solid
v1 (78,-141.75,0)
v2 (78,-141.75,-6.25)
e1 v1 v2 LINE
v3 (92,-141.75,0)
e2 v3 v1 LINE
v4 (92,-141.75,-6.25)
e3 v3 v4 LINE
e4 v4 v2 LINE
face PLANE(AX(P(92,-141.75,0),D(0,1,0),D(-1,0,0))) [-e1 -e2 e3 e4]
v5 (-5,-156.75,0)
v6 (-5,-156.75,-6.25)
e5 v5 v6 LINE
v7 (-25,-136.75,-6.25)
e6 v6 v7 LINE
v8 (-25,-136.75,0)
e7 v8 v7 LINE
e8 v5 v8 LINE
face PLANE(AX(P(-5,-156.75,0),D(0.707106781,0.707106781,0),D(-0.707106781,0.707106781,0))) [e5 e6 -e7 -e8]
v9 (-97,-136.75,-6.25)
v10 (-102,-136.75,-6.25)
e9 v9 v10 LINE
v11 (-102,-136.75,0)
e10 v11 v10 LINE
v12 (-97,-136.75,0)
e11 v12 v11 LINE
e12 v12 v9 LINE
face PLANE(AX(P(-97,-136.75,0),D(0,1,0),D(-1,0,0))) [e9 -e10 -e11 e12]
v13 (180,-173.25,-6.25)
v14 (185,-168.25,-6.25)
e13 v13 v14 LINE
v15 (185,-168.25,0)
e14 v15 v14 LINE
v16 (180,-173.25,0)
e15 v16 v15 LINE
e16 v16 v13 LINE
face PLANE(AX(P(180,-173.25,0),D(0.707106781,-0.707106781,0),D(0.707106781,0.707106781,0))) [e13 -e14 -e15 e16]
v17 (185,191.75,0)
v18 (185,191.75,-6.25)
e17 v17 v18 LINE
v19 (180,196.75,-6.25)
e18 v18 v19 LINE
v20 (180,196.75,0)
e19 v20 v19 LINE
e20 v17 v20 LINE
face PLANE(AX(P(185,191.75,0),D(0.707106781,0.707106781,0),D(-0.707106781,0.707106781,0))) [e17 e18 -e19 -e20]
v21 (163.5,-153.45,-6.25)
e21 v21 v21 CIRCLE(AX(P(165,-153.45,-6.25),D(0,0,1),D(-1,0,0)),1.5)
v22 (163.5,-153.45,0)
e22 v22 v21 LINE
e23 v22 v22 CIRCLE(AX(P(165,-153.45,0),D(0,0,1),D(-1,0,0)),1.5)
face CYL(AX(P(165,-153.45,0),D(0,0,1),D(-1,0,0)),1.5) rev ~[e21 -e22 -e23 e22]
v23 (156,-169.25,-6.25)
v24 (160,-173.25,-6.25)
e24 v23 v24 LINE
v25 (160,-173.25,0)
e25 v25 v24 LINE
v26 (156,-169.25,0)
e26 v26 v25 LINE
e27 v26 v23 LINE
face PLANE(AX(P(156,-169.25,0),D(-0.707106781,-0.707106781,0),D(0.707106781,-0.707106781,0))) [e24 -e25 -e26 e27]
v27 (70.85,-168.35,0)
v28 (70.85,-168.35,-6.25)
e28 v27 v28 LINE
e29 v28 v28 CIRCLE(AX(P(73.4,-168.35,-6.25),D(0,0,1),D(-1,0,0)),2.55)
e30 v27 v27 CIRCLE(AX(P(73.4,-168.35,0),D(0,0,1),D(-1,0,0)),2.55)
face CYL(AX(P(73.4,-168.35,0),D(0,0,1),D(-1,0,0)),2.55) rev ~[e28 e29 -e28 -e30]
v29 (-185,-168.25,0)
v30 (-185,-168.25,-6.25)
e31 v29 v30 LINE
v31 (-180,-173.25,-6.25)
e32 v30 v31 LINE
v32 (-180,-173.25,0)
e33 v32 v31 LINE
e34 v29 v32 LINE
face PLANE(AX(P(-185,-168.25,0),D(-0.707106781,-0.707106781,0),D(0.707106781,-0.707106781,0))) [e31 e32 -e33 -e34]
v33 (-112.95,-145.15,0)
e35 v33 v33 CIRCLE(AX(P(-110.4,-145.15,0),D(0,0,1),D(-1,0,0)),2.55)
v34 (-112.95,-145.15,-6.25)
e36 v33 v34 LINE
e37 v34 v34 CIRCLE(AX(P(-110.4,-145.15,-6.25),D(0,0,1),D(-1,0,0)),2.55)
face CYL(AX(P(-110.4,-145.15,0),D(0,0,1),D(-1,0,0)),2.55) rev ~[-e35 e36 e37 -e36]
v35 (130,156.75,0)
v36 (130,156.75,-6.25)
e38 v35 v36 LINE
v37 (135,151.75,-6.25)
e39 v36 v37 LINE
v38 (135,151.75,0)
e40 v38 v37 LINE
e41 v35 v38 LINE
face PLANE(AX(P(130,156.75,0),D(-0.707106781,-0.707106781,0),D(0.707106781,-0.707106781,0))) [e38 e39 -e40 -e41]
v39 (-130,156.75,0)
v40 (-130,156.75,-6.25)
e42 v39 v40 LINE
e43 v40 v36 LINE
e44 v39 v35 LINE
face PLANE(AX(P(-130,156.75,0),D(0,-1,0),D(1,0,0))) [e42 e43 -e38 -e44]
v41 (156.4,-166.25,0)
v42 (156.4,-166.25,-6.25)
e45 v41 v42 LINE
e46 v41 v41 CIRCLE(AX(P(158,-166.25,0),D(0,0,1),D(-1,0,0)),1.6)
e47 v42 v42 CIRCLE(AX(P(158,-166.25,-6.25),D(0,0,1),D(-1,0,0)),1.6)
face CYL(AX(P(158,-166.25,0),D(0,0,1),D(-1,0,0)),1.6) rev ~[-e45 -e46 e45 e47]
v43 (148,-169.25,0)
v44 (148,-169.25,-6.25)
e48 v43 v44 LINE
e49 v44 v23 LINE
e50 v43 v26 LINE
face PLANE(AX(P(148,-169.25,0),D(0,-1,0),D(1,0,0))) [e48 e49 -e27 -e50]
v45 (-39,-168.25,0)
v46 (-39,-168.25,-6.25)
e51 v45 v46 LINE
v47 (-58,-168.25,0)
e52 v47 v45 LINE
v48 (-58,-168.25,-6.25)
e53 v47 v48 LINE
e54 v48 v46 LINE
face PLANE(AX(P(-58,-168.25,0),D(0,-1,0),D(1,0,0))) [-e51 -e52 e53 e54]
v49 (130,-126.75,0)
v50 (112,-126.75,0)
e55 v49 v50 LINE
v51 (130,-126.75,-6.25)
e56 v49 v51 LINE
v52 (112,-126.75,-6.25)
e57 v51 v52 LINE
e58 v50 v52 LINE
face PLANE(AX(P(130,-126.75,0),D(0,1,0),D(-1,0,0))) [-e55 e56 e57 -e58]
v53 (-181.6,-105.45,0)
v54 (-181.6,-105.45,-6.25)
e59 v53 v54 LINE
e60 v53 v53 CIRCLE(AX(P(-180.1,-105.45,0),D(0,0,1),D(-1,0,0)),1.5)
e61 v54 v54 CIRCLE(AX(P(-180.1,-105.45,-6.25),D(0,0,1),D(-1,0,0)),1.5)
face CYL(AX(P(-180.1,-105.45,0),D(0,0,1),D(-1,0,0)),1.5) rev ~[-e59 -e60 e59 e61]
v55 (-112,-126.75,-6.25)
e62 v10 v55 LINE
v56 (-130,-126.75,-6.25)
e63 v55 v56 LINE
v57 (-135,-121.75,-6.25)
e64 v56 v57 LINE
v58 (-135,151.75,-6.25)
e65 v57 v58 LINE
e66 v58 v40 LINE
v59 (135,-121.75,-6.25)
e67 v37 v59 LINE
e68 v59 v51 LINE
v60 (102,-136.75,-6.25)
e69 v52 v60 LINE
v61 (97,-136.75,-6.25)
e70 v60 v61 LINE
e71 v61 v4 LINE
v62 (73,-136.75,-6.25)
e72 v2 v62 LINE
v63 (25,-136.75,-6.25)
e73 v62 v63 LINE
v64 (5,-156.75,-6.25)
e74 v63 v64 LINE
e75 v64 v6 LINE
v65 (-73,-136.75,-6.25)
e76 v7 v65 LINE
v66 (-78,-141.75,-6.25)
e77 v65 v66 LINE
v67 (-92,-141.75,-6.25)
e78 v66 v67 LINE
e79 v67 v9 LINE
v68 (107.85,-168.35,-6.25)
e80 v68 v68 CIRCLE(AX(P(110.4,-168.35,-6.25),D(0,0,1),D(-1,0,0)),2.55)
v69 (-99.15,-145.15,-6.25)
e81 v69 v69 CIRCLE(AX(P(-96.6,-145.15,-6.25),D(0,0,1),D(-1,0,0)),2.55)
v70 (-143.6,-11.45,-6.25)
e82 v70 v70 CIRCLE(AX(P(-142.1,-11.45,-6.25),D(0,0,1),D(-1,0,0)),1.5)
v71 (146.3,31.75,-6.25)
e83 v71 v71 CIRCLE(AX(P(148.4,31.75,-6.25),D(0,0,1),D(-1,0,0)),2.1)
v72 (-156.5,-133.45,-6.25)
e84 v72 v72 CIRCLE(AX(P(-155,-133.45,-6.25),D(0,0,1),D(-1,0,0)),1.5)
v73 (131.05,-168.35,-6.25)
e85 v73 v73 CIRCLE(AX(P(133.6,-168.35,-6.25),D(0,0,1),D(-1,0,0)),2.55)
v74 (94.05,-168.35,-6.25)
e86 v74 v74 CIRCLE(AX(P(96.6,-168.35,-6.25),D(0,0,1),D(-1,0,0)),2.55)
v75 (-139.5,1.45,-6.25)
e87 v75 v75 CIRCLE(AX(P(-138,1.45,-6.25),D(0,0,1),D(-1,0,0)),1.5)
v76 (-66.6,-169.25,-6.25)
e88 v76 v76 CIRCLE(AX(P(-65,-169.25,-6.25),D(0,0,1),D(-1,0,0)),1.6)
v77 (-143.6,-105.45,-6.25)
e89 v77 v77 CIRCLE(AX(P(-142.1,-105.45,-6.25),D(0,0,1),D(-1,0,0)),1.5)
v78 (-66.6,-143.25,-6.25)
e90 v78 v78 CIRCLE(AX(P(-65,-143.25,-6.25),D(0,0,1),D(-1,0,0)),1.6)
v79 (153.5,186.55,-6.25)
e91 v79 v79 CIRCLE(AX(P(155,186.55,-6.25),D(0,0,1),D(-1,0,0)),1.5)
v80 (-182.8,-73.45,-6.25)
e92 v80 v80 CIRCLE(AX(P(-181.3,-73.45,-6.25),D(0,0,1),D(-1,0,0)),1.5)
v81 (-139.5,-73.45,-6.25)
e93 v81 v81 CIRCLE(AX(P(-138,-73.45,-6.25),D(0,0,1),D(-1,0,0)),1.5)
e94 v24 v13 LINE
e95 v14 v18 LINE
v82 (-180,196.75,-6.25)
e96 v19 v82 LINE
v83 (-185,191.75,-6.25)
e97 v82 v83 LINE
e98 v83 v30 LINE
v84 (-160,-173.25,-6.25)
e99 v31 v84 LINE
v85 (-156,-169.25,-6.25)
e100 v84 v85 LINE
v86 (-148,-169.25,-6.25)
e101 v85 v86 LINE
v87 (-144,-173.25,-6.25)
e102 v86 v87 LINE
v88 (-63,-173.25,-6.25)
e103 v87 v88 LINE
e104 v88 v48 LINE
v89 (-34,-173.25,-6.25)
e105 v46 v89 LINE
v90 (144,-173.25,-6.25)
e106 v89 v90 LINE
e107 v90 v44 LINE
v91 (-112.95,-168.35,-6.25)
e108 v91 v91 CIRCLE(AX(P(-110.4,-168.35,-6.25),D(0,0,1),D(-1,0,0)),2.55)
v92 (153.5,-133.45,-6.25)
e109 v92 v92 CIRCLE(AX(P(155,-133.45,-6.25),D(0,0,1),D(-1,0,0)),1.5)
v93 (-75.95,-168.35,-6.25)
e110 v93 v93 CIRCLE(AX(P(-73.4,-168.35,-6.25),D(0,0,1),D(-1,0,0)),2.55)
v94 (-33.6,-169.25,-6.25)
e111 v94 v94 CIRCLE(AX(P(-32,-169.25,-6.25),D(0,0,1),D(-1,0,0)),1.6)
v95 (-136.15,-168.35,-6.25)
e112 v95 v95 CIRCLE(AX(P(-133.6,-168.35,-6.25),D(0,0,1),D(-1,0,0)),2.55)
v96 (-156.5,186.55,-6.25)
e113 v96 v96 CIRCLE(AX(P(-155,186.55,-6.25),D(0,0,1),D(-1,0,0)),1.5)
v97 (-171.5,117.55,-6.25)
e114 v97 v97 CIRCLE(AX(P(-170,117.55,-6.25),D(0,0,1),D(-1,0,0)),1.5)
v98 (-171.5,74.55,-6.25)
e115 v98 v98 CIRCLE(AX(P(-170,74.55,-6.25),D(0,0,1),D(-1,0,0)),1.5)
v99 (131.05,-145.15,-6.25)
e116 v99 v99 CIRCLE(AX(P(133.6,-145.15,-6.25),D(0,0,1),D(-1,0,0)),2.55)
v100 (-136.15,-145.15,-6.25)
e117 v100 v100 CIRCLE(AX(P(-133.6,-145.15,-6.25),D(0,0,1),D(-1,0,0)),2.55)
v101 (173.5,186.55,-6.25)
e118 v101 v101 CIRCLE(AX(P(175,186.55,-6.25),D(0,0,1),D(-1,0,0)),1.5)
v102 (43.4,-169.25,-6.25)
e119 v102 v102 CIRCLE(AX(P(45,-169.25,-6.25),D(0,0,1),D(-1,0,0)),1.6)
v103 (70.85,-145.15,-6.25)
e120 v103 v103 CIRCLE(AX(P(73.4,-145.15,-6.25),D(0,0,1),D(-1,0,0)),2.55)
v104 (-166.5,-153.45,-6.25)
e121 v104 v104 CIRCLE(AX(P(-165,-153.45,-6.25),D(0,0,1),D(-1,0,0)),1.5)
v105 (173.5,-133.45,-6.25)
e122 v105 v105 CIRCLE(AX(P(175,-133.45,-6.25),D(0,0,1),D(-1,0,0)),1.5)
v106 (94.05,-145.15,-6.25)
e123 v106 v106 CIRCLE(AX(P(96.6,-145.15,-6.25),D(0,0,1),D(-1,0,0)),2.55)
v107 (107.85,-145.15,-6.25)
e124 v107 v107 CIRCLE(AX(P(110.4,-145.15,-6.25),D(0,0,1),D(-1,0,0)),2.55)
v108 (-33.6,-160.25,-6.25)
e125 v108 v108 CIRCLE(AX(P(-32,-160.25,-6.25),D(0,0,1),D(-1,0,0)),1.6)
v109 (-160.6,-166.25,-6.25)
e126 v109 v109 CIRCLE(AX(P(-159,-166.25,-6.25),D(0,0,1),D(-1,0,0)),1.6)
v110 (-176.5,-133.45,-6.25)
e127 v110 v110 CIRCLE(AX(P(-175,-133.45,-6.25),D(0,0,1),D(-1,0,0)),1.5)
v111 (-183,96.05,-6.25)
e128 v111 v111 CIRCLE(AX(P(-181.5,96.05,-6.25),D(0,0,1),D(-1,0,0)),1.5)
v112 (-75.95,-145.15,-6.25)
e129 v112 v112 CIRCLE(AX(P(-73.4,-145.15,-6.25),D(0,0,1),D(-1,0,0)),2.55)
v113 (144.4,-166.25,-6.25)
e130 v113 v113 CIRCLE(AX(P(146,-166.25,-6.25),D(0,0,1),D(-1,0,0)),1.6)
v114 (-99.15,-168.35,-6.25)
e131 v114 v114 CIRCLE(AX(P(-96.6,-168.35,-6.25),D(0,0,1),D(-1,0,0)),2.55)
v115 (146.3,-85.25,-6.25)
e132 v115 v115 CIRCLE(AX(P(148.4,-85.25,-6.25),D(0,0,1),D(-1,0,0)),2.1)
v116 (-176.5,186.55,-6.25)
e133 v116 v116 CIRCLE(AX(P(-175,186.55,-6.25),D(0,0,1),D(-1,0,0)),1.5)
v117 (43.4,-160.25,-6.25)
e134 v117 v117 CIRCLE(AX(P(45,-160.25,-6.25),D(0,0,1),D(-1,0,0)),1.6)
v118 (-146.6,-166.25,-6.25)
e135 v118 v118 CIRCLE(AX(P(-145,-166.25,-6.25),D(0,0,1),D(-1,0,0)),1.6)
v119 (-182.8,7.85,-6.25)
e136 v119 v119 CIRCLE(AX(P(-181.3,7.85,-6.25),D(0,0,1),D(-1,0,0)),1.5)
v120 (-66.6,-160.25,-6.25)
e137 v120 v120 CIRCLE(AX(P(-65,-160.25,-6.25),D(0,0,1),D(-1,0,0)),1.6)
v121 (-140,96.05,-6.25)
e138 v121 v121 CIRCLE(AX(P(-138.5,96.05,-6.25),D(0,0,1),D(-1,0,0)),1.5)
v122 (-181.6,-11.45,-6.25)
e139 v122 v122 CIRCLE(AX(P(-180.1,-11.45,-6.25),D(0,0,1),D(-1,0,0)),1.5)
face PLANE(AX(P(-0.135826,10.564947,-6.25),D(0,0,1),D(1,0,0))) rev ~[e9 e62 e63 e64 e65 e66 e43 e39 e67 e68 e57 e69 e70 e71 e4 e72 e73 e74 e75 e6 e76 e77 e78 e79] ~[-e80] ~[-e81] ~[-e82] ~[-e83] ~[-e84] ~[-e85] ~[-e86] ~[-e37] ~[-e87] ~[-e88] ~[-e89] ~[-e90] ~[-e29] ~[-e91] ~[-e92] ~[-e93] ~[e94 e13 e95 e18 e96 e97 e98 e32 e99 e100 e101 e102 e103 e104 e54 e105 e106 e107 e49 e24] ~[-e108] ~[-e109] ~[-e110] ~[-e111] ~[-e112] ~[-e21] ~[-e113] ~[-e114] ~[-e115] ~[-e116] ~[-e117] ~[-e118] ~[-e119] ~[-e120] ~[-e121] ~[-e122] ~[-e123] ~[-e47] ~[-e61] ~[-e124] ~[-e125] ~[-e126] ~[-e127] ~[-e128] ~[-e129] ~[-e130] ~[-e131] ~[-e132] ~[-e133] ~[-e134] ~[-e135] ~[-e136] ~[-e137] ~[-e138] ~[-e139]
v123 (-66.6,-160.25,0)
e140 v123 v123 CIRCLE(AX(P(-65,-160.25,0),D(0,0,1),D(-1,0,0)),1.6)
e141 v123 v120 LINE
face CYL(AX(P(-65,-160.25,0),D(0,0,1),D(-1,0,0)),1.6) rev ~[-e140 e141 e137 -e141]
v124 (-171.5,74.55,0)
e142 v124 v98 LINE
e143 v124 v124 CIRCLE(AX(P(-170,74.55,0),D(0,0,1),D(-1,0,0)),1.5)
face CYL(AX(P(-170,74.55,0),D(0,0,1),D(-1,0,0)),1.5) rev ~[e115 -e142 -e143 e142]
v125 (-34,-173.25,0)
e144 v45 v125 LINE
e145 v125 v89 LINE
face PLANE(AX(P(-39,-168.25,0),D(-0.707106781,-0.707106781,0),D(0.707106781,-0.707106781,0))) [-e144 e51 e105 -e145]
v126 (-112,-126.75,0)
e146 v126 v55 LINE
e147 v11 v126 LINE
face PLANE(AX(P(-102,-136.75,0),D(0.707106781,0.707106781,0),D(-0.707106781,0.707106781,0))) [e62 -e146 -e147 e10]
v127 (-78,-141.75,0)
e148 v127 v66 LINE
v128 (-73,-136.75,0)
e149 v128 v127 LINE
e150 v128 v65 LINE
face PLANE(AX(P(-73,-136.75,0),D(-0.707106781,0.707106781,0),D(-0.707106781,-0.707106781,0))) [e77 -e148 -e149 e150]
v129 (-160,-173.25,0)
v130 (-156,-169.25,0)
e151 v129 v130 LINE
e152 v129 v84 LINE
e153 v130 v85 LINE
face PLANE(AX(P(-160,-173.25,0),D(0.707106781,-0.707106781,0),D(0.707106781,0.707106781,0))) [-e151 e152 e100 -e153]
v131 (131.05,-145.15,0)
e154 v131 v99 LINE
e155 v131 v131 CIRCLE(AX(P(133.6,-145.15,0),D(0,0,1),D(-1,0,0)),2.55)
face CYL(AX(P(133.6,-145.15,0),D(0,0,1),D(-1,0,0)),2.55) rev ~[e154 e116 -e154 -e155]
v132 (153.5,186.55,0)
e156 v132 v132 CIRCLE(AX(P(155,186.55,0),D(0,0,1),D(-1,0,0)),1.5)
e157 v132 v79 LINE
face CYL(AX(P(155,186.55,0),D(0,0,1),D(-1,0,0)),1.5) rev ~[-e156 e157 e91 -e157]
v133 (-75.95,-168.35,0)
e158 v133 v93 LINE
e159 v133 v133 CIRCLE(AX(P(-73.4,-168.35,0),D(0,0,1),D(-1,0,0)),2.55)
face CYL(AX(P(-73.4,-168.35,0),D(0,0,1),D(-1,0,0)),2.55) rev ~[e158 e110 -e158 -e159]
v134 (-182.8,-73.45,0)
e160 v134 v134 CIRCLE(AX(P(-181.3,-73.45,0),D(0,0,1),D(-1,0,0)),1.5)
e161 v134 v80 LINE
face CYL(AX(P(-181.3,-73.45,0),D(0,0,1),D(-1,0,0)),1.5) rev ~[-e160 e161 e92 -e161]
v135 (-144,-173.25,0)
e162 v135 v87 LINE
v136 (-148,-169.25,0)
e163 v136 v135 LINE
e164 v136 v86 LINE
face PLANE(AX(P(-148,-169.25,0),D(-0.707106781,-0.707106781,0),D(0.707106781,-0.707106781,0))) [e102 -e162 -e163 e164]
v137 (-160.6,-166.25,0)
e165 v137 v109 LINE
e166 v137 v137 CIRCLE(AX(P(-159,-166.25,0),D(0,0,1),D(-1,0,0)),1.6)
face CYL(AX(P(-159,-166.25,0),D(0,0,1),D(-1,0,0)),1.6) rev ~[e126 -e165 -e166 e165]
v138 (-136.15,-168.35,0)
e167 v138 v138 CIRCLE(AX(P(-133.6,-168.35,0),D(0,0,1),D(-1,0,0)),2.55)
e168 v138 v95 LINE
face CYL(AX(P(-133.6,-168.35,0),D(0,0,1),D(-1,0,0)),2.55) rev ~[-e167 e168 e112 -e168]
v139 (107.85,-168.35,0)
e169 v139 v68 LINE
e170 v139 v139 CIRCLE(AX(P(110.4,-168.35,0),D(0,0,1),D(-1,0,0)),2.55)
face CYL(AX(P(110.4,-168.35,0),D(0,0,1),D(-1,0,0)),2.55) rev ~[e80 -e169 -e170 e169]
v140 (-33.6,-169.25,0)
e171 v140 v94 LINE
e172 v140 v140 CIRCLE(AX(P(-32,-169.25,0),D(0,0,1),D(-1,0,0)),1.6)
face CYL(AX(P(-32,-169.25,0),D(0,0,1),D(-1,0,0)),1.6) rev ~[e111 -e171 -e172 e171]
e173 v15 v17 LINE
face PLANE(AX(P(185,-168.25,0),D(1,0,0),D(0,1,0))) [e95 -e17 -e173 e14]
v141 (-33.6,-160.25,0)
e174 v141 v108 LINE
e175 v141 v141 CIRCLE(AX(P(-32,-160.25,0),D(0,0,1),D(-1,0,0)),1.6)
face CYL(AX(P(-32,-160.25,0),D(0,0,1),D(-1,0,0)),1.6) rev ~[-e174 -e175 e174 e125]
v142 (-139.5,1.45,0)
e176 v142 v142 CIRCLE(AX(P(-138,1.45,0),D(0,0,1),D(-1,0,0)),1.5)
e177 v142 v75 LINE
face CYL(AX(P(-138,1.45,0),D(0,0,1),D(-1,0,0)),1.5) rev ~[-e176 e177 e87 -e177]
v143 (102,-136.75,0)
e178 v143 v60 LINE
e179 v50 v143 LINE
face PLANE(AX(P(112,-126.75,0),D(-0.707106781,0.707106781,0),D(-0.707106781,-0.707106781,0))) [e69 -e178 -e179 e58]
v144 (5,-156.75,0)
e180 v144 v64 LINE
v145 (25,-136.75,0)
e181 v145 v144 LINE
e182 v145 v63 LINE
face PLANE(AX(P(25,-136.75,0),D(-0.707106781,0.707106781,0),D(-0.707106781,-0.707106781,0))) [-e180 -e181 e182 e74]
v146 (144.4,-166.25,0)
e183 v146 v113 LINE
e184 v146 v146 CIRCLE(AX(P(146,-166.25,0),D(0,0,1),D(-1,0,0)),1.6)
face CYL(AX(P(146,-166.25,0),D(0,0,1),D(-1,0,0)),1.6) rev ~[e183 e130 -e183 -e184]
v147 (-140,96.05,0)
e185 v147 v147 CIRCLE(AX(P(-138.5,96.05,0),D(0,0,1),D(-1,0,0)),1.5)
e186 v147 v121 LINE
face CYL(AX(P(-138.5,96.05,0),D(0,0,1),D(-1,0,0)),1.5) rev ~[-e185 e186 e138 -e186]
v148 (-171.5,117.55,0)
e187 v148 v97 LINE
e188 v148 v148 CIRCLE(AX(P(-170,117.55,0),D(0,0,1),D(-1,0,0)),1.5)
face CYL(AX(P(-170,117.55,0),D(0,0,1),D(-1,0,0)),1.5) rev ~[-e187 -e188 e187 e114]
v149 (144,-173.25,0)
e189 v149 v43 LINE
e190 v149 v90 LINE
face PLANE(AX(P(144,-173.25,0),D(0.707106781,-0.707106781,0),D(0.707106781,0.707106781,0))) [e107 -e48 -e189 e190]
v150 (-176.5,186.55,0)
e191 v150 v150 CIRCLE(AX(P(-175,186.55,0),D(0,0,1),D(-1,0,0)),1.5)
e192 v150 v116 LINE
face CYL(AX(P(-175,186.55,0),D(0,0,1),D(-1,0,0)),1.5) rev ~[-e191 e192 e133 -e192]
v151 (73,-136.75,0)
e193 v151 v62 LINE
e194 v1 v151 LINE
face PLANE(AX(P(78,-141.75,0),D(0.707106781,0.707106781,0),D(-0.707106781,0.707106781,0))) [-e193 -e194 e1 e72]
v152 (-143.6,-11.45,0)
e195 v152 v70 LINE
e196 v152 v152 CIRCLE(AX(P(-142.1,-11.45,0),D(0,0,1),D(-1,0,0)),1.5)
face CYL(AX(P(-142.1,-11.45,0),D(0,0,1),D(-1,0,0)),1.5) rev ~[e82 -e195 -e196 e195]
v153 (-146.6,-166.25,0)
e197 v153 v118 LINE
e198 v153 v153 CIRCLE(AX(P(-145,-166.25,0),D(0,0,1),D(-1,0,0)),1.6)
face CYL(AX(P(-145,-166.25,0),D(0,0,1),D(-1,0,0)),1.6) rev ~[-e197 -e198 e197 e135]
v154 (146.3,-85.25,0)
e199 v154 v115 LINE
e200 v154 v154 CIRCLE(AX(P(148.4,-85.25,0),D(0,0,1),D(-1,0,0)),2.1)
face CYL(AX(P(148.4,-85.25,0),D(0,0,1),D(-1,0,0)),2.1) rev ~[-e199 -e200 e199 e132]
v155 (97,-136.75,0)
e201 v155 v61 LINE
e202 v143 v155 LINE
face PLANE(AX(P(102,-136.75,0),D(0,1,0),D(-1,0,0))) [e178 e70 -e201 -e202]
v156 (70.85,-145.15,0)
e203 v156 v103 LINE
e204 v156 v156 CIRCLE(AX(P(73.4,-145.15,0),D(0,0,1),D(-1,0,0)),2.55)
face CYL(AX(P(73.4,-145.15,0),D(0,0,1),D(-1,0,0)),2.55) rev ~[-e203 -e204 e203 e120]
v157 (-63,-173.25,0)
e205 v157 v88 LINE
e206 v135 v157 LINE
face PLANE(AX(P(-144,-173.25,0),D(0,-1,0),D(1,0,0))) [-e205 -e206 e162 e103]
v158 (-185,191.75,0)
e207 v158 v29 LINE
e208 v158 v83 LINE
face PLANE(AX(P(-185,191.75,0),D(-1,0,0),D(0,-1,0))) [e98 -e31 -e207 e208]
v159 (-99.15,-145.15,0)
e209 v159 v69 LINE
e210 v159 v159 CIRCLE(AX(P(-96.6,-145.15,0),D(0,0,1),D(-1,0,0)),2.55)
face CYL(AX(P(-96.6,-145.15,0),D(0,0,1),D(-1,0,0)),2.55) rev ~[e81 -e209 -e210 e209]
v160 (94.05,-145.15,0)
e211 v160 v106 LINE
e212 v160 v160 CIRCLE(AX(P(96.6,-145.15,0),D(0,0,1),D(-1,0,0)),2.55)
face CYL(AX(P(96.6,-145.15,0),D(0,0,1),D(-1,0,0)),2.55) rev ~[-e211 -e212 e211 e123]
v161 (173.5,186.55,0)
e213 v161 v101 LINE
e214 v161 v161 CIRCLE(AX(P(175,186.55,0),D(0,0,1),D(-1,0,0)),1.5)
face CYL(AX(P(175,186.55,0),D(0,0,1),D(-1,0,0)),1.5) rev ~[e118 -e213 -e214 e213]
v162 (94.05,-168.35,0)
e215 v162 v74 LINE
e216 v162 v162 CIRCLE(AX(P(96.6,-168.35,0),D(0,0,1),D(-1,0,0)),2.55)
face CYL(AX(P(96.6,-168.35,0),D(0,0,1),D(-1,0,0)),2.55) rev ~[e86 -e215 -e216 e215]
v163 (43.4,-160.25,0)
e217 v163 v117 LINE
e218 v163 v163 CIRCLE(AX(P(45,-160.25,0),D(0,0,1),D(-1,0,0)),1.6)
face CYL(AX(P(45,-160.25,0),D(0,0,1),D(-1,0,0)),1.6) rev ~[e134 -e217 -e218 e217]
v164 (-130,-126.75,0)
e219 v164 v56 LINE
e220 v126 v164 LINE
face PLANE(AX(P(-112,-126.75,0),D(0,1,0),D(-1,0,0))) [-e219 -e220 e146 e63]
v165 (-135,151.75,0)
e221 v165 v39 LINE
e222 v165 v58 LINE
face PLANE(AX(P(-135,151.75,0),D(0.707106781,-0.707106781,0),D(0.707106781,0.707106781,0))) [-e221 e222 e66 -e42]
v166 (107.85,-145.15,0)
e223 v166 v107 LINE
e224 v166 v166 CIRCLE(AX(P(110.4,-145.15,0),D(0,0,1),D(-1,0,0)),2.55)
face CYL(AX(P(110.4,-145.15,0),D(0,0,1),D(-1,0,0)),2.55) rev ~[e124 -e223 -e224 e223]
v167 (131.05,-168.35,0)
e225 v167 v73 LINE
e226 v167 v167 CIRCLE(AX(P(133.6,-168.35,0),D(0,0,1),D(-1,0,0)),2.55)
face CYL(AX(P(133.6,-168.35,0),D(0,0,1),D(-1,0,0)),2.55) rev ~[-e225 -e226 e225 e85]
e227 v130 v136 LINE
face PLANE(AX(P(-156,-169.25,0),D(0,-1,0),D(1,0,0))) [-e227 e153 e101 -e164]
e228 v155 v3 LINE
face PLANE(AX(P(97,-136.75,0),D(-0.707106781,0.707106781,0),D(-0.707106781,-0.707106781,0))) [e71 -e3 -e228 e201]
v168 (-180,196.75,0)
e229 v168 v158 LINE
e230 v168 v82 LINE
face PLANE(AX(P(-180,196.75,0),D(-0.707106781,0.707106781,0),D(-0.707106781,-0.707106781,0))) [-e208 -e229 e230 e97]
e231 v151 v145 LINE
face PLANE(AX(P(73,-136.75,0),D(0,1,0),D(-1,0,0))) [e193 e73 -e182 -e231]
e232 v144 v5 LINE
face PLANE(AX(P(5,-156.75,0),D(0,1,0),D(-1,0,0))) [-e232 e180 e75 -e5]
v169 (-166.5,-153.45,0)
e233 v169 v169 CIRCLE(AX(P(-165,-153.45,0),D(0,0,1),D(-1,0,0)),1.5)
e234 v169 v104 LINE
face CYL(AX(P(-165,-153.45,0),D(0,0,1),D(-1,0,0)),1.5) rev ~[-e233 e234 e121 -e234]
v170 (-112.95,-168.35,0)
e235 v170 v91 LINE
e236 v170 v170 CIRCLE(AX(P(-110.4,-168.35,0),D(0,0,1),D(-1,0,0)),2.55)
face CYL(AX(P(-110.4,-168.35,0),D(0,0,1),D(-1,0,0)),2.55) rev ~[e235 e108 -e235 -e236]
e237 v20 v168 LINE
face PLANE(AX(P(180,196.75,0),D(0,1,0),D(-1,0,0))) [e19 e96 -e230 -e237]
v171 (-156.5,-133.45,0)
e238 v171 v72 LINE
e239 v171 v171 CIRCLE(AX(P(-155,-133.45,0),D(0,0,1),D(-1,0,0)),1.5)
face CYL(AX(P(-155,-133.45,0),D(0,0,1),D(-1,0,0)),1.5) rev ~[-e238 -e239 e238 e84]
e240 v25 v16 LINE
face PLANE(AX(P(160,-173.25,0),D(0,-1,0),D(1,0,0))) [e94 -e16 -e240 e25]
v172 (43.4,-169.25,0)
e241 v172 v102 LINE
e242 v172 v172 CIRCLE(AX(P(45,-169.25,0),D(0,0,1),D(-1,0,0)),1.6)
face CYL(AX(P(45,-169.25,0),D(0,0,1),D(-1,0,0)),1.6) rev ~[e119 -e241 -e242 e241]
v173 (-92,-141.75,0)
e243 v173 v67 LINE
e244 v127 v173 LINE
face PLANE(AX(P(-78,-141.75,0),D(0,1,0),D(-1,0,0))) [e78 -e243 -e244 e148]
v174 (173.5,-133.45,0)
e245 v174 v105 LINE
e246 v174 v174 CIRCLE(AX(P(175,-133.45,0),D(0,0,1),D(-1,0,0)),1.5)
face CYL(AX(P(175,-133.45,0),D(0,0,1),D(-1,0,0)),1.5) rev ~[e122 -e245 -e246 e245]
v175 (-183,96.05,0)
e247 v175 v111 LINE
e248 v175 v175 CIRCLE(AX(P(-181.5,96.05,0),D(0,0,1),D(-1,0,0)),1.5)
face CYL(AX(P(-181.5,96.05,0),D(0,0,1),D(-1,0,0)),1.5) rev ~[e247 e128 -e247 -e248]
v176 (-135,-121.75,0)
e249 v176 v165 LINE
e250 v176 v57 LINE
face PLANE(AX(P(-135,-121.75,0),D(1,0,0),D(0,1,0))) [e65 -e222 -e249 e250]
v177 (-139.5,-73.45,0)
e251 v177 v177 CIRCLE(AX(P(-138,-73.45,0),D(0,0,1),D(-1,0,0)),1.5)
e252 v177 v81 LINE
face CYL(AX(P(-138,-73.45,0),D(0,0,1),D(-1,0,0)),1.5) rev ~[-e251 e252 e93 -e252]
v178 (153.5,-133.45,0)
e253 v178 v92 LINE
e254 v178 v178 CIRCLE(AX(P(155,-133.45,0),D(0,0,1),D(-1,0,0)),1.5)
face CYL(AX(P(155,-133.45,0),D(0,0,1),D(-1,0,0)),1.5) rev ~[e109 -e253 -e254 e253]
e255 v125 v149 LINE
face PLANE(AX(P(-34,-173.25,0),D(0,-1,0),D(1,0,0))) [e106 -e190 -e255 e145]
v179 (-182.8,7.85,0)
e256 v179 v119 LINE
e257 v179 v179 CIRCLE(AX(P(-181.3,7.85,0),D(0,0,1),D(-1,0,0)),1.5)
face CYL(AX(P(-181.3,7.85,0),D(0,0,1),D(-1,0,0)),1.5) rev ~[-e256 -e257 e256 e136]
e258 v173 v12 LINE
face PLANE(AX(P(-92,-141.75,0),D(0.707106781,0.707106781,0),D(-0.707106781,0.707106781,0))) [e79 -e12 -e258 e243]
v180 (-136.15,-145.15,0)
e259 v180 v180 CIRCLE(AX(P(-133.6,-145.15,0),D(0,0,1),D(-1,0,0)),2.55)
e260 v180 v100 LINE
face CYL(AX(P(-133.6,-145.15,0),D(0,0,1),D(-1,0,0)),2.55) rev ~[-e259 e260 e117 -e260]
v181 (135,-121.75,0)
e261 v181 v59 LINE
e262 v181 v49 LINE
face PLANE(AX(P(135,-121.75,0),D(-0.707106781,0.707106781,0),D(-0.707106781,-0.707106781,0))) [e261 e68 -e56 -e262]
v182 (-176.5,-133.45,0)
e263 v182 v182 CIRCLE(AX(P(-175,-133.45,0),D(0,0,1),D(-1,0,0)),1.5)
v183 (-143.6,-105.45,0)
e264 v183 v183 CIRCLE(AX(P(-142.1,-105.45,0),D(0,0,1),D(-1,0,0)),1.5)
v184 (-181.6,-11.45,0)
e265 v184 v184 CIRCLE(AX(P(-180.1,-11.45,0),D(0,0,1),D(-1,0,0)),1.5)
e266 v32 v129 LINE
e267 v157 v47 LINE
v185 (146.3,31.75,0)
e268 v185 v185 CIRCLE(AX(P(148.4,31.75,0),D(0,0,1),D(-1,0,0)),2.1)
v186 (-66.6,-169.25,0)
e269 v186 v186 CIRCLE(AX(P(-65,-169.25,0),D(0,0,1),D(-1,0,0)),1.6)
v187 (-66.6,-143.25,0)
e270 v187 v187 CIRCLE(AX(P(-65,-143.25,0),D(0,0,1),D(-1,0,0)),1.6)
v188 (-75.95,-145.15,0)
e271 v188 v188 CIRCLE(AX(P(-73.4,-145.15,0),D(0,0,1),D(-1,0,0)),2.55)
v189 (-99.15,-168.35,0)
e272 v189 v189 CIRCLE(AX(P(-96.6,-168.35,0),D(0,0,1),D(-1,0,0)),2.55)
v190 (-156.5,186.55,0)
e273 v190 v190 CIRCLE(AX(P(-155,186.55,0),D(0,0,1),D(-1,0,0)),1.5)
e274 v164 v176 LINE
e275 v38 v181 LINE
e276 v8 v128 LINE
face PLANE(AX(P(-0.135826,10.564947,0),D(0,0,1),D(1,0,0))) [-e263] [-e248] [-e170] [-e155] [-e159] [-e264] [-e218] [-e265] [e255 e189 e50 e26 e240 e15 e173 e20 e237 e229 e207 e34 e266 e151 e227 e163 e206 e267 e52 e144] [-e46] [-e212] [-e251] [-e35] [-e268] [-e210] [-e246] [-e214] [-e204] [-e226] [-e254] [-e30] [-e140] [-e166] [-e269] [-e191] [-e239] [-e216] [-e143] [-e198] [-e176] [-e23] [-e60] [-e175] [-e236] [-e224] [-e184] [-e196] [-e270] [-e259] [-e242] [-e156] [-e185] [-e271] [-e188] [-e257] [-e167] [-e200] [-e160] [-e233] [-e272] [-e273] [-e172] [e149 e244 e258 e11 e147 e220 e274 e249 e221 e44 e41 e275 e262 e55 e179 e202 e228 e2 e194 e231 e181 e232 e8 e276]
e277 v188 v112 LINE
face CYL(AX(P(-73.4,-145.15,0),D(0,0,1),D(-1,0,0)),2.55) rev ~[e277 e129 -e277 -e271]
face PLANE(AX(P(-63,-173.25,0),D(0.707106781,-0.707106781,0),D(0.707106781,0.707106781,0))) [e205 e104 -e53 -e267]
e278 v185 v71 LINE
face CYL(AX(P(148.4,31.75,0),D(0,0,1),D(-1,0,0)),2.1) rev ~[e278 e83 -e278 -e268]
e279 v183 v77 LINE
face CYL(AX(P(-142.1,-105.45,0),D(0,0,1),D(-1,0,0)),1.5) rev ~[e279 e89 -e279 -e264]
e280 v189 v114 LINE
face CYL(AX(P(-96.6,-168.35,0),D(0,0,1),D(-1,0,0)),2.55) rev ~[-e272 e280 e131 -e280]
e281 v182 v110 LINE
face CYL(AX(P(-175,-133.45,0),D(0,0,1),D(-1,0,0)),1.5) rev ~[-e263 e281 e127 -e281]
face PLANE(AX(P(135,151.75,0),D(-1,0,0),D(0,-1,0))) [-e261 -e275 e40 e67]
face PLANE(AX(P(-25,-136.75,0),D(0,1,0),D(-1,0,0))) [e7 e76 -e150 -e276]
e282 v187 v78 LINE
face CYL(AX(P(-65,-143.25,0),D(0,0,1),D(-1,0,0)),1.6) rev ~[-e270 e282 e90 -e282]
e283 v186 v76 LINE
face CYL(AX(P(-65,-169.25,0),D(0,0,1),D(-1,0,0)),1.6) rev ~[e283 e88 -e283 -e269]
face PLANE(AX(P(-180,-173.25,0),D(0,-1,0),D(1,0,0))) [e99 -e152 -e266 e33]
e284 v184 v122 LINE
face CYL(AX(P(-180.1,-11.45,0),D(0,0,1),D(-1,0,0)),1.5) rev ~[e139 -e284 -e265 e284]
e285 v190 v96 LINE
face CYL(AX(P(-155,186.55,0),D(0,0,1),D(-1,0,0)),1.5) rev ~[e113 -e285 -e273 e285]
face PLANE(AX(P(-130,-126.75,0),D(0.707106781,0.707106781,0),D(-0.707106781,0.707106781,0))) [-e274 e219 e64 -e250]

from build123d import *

# Parameters (mm, degrees)
SKETCH1_R           = 1.5
SKETCH1_R_2         = 1.6
SKETCH1_R_3         = 2.55
SKETCH1_R_4         = 2.1
BOSS_EXTRUDE1_DEPTH = 6.25


with BuildPart() as part:
    # Sketch1 → Boss-Extrude1 (new body)
    with BuildSketch(Plane.XY):
        Polygon((180, 196.75), (-180, 196.75), (-185, 191.75), (-185, -168.25), (-180, -173.25), (-160, -173.25), (-156, -169.25), (-148, -169.25), (-144, -173.25), (-63, -173.25), (-58, -168.25), (-39, -168.25), (-34, -173.25), (144, -173.25), (148, -169.25), (156, -169.25), (160, -173.25), (180, -173.25), (185, -168.25), (185, 191.75), align=None)
        with Locations(Location((165, -153.45, 0), (0, 0, 180))):  # turned: the seam where the file's is
            Circle(SKETCH1_R, mode=Mode.SUBTRACT)
        with Locations(Location((-155, 186.55, 0), (0, 0, 180))):  # turned: the seam where the file's is
            Circle(SKETCH1_R, mode=Mode.SUBTRACT)
        with Locations(Location((-175, -133.45, 0), (0, 0, 180))):  # turned: the seam where the file's is
            Circle(SKETCH1_R, mode=Mode.SUBTRACT)
        with Locations(Location((-65, -143.25, 0), (0, 0, 180))):  # turned: the seam where the file's is
            Circle(SKETCH1_R_2, mode=Mode.SUBTRACT)
        with Locations(Location((-175, 186.55, 0), (0, 0, 180))):  # turned: the seam where the file's is
            Circle(SKETCH1_R, mode=Mode.SUBTRACT)
        with Locations(Location((-180.1, -11.45, 0), (0, 0, 180))):  # turned: the seam where the file's is
            Circle(SKETCH1_R, mode=Mode.SUBTRACT)
        with Locations(Location((-181.5, 96.05, 0), (0, 0, 180))):  # turned: the seam where the file's is
            Circle(SKETCH1_R, mode=Mode.SUBTRACT)
        with Locations(Location((-181.3, 7.85, 0), (0, 0, 180))):  # turned: the seam where the file's is
            Circle(SKETCH1_R, mode=Mode.SUBTRACT)
        with Locations(Location((-138, 1.45, 0), (0, 0, 180))):  # turned: the seam where the file's is
            Circle(SKETCH1_R, mode=Mode.SUBTRACT)
        with Locations(Location((-138.5, 96.05, 0), (0, 0, 180))):  # turned: the seam where the file's is
            Circle(SKETCH1_R, mode=Mode.SUBTRACT)
        with Locations(Location((-165, -153.45, 0), (0, 0, 180))):  # turned: the seam where the file's is
            Circle(SKETCH1_R, mode=Mode.SUBTRACT)
        with Locations(Location((-181.3, -73.45, 0), (0, 0, 180))):  # turned: the seam where the file's is
            Circle(SKETCH1_R, mode=Mode.SUBTRACT)
        with Locations(Location((175, 186.55, 0), (0, 0, 180))):  # turned: the seam where the file's is
            Circle(SKETCH1_R, mode=Mode.SUBTRACT)
        with Locations(Location((-170, 74.55, 0), (0, 0, 180))):  # turned: the seam where the file's is
            Circle(SKETCH1_R, mode=Mode.SUBTRACT)
        with Locations(Location((-138, -73.45, 0), (0, 0, 180))):  # turned: the seam where the file's is
            Circle(SKETCH1_R, mode=Mode.SUBTRACT)
        with Locations(Location((155, -133.45, 0), (0, 0, 180))):  # turned: the seam where the file's is
            Circle(SKETCH1_R, mode=Mode.SUBTRACT)
        with Locations(Location((175, -133.45, 0), (0, 0, 180))):  # turned: the seam where the file's is
            Circle(SKETCH1_R, mode=Mode.SUBTRACT)
        with Locations(Location((-180.1, -105.45, 0), (0, 0, 180))):  # turned: the seam where the file's is
            Circle(SKETCH1_R, mode=Mode.SUBTRACT)
        with Locations(Location((155, 186.55, 0), (0, 0, 180))):  # turned: the seam where the file's is
            Circle(SKETCH1_R, mode=Mode.SUBTRACT)
        with Locations(Location((-170, 117.55, 0), (0, 0, 180))):  # turned: the seam where the file's is
            Circle(SKETCH1_R, mode=Mode.SUBTRACT)
        with Locations(Location((-159, -166.25, 0), (0, 0, 180))):  # turned: the seam where the file's is
            Circle(SKETCH1_R_2, mode=Mode.SUBTRACT)
        with Locations(Location((133.6, -168.35, 0), (0, 0, 180))):  # turned: the seam where the file's is
            Circle(SKETCH1_R_3, mode=Mode.SUBTRACT)
        with Locations(Location((-145, -166.25, 0), (0, 0, 180))):  # turned: the seam where the file's is
            Circle(SKETCH1_R_2, mode=Mode.SUBTRACT)
        with Locations(Location((96.6, -145.15, 0), (0, 0, 180))):  # turned: the seam where the file's is
            Circle(SKETCH1_R_3, mode=Mode.SUBTRACT)
        with Locations(Location((73.4, -168.35, 0), (0, 0, 180))):  # turned: the seam where the file's is
            Circle(SKETCH1_R_3, mode=Mode.SUBTRACT)
        with Locations(Location((-73.4, -168.35, 0), (0, 0, 180))):  # turned: the seam where the file's is
            Circle(SKETCH1_R_3, mode=Mode.SUBTRACT)
        with Locations(Location((96.6, -168.35, 0), (0, 0, 180))):  # turned: the seam where the file's is
            Circle(SKETCH1_R_3, mode=Mode.SUBTRACT)
        with Locations(Location((-73.4, -145.15, 0), (0, 0, 180))):  # turned: the seam where the file's is
            Circle(SKETCH1_R_3, mode=Mode.SUBTRACT)
        with Locations(Location((-110.4, -168.35, 0), (0, 0, 180))):  # turned: the seam where the file's is
            Circle(SKETCH1_R_3, mode=Mode.SUBTRACT)
        with Locations(Location((-133.6, -168.35, 0), (0, 0, 180))):  # turned: the seam where the file's is
            Circle(SKETCH1_R_3, mode=Mode.SUBTRACT)
        with Locations(Location((-110.4, -145.15, 0), (0, 0, 180))):  # turned: the seam where the file's is
            Circle(SKETCH1_R_3, mode=Mode.SUBTRACT)
        with Locations(Location((73.4, -145.15, 0), (0, 0, 180))):  # turned: the seam where the file's is
            Circle(SKETCH1_R_3, mode=Mode.SUBTRACT)
        with Locations(Location((146, -166.25, 0), (0, 0, 180))):  # turned: the seam where the file's is
            Circle(SKETCH1_R_2, mode=Mode.SUBTRACT)
        with Locations(Location((-133.6, -145.15, 0), (0, 0, 180))):  # turned: the seam where the file's is
            Circle(SKETCH1_R_3, mode=Mode.SUBTRACT)
        with Locations(Location((110.4, -145.15, 0), (0, 0, 180))):  # turned: the seam where the file's is
            Circle(SKETCH1_R_3, mode=Mode.SUBTRACT)
        with Locations(Location((-96.6, -145.15, 0), (0, 0, 180))):  # turned: the seam where the file's is
            Circle(SKETCH1_R_3, mode=Mode.SUBTRACT)
        with Locations(Location((110.4, -168.35, 0), (0, 0, 180))):  # turned: the seam where the file's is
            Circle(SKETCH1_R_3, mode=Mode.SUBTRACT)
        with Locations(Location((133.6, -145.15, 0), (0, 0, 180))):  # turned: the seam where the file's is
            Circle(SKETCH1_R_3, mode=Mode.SUBTRACT)
        with Locations(Location((-96.6, -168.35, 0), (0, 0, 180))):  # turned: the seam where the file's is
            Circle(SKETCH1_R_3, mode=Mode.SUBTRACT)
        with Locations(Location((158, -166.25, 0), (0, 0, 180))):  # turned: the seam where the file's is
            Circle(SKETCH1_R_2, mode=Mode.SUBTRACT)
        with Locations(Location((-65, -160.25, 0), (0, 0, 180))):  # turned: the seam where the file's is
            Circle(SKETCH1_R_2, mode=Mode.SUBTRACT)
        with Locations(Location((-65, -169.25, 0), (0, 0, 180))):  # turned: the seam where the file's is
            Circle(SKETCH1_R_2, mode=Mode.SUBTRACT)
        with Locations(Location((45, -160.25, 0), (0, 0, 180))):  # turned: the seam where the file's is
            Circle(SKETCH1_R_2, mode=Mode.SUBTRACT)
        with Locations(Location((148.4, 31.75, 0), (0, 0, 180))):  # turned: the seam where the file's is
            Circle(SKETCH1_R_4, mode=Mode.SUBTRACT)
        with Locations(Location((45, -169.25, 0), (0, 0, 180))):  # turned: the seam where the file's is
            Circle(SKETCH1_R_2, mode=Mode.SUBTRACT)
        with Locations(Location((148.4, -85.25, 0), (0, 0, 180))):  # turned: the seam where the file's is
            Circle(SKETCH1_R_4, mode=Mode.SUBTRACT)
        with Locations(Location((-32, -160.25, 0), (0, 0, 180))):  # turned: the seam where the file's is
            Circle(SKETCH1_R_2, mode=Mode.SUBTRACT)
        with Locations(Location((-32, -169.25, 0), (0, 0, 180))):  # turned: the seam where the file's is
            Circle(SKETCH1_R_2, mode=Mode.SUBTRACT)
        with Locations(Location((-142.1, -11.45, 0), (0, 0, 180))):  # turned: the seam where the file's is
            Circle(SKETCH1_R, mode=Mode.SUBTRACT)
        with Locations(Location((-155, -133.45, 0), (0, 0, 180))):  # turned: the seam where the file's is
            Circle(SKETCH1_R, mode=Mode.SUBTRACT)
        with Locations(Location((-142.1, -105.45, 0), (0, 0, 180))):  # turned: the seam where the file's is
            Circle(SKETCH1_R, mode=Mode.SUBTRACT)
        Polygon((-92, -141.75), (-97, -136.75), (-102, -136.75), (-112, -126.75), (-130, -126.75), (-135, -121.75), (-135, 151.75), (-130, 156.75), (130, 156.75), (135, 151.75), (135, -121.75), (130, -126.75), (112, -126.75), (102, -136.75), (97, -136.75), (92, -141.75), (78, -141.75), (73, -136.75), (25, -136.75), (5, -156.75), (-5, -156.75), (-25, -136.75), (-73, -136.75), (-78, -141.75), align=None, mode=Mode.SUBTRACT)
    extrude(amount=-BOSS_EXTRUDE1_DEPTH)


solid = part.part
